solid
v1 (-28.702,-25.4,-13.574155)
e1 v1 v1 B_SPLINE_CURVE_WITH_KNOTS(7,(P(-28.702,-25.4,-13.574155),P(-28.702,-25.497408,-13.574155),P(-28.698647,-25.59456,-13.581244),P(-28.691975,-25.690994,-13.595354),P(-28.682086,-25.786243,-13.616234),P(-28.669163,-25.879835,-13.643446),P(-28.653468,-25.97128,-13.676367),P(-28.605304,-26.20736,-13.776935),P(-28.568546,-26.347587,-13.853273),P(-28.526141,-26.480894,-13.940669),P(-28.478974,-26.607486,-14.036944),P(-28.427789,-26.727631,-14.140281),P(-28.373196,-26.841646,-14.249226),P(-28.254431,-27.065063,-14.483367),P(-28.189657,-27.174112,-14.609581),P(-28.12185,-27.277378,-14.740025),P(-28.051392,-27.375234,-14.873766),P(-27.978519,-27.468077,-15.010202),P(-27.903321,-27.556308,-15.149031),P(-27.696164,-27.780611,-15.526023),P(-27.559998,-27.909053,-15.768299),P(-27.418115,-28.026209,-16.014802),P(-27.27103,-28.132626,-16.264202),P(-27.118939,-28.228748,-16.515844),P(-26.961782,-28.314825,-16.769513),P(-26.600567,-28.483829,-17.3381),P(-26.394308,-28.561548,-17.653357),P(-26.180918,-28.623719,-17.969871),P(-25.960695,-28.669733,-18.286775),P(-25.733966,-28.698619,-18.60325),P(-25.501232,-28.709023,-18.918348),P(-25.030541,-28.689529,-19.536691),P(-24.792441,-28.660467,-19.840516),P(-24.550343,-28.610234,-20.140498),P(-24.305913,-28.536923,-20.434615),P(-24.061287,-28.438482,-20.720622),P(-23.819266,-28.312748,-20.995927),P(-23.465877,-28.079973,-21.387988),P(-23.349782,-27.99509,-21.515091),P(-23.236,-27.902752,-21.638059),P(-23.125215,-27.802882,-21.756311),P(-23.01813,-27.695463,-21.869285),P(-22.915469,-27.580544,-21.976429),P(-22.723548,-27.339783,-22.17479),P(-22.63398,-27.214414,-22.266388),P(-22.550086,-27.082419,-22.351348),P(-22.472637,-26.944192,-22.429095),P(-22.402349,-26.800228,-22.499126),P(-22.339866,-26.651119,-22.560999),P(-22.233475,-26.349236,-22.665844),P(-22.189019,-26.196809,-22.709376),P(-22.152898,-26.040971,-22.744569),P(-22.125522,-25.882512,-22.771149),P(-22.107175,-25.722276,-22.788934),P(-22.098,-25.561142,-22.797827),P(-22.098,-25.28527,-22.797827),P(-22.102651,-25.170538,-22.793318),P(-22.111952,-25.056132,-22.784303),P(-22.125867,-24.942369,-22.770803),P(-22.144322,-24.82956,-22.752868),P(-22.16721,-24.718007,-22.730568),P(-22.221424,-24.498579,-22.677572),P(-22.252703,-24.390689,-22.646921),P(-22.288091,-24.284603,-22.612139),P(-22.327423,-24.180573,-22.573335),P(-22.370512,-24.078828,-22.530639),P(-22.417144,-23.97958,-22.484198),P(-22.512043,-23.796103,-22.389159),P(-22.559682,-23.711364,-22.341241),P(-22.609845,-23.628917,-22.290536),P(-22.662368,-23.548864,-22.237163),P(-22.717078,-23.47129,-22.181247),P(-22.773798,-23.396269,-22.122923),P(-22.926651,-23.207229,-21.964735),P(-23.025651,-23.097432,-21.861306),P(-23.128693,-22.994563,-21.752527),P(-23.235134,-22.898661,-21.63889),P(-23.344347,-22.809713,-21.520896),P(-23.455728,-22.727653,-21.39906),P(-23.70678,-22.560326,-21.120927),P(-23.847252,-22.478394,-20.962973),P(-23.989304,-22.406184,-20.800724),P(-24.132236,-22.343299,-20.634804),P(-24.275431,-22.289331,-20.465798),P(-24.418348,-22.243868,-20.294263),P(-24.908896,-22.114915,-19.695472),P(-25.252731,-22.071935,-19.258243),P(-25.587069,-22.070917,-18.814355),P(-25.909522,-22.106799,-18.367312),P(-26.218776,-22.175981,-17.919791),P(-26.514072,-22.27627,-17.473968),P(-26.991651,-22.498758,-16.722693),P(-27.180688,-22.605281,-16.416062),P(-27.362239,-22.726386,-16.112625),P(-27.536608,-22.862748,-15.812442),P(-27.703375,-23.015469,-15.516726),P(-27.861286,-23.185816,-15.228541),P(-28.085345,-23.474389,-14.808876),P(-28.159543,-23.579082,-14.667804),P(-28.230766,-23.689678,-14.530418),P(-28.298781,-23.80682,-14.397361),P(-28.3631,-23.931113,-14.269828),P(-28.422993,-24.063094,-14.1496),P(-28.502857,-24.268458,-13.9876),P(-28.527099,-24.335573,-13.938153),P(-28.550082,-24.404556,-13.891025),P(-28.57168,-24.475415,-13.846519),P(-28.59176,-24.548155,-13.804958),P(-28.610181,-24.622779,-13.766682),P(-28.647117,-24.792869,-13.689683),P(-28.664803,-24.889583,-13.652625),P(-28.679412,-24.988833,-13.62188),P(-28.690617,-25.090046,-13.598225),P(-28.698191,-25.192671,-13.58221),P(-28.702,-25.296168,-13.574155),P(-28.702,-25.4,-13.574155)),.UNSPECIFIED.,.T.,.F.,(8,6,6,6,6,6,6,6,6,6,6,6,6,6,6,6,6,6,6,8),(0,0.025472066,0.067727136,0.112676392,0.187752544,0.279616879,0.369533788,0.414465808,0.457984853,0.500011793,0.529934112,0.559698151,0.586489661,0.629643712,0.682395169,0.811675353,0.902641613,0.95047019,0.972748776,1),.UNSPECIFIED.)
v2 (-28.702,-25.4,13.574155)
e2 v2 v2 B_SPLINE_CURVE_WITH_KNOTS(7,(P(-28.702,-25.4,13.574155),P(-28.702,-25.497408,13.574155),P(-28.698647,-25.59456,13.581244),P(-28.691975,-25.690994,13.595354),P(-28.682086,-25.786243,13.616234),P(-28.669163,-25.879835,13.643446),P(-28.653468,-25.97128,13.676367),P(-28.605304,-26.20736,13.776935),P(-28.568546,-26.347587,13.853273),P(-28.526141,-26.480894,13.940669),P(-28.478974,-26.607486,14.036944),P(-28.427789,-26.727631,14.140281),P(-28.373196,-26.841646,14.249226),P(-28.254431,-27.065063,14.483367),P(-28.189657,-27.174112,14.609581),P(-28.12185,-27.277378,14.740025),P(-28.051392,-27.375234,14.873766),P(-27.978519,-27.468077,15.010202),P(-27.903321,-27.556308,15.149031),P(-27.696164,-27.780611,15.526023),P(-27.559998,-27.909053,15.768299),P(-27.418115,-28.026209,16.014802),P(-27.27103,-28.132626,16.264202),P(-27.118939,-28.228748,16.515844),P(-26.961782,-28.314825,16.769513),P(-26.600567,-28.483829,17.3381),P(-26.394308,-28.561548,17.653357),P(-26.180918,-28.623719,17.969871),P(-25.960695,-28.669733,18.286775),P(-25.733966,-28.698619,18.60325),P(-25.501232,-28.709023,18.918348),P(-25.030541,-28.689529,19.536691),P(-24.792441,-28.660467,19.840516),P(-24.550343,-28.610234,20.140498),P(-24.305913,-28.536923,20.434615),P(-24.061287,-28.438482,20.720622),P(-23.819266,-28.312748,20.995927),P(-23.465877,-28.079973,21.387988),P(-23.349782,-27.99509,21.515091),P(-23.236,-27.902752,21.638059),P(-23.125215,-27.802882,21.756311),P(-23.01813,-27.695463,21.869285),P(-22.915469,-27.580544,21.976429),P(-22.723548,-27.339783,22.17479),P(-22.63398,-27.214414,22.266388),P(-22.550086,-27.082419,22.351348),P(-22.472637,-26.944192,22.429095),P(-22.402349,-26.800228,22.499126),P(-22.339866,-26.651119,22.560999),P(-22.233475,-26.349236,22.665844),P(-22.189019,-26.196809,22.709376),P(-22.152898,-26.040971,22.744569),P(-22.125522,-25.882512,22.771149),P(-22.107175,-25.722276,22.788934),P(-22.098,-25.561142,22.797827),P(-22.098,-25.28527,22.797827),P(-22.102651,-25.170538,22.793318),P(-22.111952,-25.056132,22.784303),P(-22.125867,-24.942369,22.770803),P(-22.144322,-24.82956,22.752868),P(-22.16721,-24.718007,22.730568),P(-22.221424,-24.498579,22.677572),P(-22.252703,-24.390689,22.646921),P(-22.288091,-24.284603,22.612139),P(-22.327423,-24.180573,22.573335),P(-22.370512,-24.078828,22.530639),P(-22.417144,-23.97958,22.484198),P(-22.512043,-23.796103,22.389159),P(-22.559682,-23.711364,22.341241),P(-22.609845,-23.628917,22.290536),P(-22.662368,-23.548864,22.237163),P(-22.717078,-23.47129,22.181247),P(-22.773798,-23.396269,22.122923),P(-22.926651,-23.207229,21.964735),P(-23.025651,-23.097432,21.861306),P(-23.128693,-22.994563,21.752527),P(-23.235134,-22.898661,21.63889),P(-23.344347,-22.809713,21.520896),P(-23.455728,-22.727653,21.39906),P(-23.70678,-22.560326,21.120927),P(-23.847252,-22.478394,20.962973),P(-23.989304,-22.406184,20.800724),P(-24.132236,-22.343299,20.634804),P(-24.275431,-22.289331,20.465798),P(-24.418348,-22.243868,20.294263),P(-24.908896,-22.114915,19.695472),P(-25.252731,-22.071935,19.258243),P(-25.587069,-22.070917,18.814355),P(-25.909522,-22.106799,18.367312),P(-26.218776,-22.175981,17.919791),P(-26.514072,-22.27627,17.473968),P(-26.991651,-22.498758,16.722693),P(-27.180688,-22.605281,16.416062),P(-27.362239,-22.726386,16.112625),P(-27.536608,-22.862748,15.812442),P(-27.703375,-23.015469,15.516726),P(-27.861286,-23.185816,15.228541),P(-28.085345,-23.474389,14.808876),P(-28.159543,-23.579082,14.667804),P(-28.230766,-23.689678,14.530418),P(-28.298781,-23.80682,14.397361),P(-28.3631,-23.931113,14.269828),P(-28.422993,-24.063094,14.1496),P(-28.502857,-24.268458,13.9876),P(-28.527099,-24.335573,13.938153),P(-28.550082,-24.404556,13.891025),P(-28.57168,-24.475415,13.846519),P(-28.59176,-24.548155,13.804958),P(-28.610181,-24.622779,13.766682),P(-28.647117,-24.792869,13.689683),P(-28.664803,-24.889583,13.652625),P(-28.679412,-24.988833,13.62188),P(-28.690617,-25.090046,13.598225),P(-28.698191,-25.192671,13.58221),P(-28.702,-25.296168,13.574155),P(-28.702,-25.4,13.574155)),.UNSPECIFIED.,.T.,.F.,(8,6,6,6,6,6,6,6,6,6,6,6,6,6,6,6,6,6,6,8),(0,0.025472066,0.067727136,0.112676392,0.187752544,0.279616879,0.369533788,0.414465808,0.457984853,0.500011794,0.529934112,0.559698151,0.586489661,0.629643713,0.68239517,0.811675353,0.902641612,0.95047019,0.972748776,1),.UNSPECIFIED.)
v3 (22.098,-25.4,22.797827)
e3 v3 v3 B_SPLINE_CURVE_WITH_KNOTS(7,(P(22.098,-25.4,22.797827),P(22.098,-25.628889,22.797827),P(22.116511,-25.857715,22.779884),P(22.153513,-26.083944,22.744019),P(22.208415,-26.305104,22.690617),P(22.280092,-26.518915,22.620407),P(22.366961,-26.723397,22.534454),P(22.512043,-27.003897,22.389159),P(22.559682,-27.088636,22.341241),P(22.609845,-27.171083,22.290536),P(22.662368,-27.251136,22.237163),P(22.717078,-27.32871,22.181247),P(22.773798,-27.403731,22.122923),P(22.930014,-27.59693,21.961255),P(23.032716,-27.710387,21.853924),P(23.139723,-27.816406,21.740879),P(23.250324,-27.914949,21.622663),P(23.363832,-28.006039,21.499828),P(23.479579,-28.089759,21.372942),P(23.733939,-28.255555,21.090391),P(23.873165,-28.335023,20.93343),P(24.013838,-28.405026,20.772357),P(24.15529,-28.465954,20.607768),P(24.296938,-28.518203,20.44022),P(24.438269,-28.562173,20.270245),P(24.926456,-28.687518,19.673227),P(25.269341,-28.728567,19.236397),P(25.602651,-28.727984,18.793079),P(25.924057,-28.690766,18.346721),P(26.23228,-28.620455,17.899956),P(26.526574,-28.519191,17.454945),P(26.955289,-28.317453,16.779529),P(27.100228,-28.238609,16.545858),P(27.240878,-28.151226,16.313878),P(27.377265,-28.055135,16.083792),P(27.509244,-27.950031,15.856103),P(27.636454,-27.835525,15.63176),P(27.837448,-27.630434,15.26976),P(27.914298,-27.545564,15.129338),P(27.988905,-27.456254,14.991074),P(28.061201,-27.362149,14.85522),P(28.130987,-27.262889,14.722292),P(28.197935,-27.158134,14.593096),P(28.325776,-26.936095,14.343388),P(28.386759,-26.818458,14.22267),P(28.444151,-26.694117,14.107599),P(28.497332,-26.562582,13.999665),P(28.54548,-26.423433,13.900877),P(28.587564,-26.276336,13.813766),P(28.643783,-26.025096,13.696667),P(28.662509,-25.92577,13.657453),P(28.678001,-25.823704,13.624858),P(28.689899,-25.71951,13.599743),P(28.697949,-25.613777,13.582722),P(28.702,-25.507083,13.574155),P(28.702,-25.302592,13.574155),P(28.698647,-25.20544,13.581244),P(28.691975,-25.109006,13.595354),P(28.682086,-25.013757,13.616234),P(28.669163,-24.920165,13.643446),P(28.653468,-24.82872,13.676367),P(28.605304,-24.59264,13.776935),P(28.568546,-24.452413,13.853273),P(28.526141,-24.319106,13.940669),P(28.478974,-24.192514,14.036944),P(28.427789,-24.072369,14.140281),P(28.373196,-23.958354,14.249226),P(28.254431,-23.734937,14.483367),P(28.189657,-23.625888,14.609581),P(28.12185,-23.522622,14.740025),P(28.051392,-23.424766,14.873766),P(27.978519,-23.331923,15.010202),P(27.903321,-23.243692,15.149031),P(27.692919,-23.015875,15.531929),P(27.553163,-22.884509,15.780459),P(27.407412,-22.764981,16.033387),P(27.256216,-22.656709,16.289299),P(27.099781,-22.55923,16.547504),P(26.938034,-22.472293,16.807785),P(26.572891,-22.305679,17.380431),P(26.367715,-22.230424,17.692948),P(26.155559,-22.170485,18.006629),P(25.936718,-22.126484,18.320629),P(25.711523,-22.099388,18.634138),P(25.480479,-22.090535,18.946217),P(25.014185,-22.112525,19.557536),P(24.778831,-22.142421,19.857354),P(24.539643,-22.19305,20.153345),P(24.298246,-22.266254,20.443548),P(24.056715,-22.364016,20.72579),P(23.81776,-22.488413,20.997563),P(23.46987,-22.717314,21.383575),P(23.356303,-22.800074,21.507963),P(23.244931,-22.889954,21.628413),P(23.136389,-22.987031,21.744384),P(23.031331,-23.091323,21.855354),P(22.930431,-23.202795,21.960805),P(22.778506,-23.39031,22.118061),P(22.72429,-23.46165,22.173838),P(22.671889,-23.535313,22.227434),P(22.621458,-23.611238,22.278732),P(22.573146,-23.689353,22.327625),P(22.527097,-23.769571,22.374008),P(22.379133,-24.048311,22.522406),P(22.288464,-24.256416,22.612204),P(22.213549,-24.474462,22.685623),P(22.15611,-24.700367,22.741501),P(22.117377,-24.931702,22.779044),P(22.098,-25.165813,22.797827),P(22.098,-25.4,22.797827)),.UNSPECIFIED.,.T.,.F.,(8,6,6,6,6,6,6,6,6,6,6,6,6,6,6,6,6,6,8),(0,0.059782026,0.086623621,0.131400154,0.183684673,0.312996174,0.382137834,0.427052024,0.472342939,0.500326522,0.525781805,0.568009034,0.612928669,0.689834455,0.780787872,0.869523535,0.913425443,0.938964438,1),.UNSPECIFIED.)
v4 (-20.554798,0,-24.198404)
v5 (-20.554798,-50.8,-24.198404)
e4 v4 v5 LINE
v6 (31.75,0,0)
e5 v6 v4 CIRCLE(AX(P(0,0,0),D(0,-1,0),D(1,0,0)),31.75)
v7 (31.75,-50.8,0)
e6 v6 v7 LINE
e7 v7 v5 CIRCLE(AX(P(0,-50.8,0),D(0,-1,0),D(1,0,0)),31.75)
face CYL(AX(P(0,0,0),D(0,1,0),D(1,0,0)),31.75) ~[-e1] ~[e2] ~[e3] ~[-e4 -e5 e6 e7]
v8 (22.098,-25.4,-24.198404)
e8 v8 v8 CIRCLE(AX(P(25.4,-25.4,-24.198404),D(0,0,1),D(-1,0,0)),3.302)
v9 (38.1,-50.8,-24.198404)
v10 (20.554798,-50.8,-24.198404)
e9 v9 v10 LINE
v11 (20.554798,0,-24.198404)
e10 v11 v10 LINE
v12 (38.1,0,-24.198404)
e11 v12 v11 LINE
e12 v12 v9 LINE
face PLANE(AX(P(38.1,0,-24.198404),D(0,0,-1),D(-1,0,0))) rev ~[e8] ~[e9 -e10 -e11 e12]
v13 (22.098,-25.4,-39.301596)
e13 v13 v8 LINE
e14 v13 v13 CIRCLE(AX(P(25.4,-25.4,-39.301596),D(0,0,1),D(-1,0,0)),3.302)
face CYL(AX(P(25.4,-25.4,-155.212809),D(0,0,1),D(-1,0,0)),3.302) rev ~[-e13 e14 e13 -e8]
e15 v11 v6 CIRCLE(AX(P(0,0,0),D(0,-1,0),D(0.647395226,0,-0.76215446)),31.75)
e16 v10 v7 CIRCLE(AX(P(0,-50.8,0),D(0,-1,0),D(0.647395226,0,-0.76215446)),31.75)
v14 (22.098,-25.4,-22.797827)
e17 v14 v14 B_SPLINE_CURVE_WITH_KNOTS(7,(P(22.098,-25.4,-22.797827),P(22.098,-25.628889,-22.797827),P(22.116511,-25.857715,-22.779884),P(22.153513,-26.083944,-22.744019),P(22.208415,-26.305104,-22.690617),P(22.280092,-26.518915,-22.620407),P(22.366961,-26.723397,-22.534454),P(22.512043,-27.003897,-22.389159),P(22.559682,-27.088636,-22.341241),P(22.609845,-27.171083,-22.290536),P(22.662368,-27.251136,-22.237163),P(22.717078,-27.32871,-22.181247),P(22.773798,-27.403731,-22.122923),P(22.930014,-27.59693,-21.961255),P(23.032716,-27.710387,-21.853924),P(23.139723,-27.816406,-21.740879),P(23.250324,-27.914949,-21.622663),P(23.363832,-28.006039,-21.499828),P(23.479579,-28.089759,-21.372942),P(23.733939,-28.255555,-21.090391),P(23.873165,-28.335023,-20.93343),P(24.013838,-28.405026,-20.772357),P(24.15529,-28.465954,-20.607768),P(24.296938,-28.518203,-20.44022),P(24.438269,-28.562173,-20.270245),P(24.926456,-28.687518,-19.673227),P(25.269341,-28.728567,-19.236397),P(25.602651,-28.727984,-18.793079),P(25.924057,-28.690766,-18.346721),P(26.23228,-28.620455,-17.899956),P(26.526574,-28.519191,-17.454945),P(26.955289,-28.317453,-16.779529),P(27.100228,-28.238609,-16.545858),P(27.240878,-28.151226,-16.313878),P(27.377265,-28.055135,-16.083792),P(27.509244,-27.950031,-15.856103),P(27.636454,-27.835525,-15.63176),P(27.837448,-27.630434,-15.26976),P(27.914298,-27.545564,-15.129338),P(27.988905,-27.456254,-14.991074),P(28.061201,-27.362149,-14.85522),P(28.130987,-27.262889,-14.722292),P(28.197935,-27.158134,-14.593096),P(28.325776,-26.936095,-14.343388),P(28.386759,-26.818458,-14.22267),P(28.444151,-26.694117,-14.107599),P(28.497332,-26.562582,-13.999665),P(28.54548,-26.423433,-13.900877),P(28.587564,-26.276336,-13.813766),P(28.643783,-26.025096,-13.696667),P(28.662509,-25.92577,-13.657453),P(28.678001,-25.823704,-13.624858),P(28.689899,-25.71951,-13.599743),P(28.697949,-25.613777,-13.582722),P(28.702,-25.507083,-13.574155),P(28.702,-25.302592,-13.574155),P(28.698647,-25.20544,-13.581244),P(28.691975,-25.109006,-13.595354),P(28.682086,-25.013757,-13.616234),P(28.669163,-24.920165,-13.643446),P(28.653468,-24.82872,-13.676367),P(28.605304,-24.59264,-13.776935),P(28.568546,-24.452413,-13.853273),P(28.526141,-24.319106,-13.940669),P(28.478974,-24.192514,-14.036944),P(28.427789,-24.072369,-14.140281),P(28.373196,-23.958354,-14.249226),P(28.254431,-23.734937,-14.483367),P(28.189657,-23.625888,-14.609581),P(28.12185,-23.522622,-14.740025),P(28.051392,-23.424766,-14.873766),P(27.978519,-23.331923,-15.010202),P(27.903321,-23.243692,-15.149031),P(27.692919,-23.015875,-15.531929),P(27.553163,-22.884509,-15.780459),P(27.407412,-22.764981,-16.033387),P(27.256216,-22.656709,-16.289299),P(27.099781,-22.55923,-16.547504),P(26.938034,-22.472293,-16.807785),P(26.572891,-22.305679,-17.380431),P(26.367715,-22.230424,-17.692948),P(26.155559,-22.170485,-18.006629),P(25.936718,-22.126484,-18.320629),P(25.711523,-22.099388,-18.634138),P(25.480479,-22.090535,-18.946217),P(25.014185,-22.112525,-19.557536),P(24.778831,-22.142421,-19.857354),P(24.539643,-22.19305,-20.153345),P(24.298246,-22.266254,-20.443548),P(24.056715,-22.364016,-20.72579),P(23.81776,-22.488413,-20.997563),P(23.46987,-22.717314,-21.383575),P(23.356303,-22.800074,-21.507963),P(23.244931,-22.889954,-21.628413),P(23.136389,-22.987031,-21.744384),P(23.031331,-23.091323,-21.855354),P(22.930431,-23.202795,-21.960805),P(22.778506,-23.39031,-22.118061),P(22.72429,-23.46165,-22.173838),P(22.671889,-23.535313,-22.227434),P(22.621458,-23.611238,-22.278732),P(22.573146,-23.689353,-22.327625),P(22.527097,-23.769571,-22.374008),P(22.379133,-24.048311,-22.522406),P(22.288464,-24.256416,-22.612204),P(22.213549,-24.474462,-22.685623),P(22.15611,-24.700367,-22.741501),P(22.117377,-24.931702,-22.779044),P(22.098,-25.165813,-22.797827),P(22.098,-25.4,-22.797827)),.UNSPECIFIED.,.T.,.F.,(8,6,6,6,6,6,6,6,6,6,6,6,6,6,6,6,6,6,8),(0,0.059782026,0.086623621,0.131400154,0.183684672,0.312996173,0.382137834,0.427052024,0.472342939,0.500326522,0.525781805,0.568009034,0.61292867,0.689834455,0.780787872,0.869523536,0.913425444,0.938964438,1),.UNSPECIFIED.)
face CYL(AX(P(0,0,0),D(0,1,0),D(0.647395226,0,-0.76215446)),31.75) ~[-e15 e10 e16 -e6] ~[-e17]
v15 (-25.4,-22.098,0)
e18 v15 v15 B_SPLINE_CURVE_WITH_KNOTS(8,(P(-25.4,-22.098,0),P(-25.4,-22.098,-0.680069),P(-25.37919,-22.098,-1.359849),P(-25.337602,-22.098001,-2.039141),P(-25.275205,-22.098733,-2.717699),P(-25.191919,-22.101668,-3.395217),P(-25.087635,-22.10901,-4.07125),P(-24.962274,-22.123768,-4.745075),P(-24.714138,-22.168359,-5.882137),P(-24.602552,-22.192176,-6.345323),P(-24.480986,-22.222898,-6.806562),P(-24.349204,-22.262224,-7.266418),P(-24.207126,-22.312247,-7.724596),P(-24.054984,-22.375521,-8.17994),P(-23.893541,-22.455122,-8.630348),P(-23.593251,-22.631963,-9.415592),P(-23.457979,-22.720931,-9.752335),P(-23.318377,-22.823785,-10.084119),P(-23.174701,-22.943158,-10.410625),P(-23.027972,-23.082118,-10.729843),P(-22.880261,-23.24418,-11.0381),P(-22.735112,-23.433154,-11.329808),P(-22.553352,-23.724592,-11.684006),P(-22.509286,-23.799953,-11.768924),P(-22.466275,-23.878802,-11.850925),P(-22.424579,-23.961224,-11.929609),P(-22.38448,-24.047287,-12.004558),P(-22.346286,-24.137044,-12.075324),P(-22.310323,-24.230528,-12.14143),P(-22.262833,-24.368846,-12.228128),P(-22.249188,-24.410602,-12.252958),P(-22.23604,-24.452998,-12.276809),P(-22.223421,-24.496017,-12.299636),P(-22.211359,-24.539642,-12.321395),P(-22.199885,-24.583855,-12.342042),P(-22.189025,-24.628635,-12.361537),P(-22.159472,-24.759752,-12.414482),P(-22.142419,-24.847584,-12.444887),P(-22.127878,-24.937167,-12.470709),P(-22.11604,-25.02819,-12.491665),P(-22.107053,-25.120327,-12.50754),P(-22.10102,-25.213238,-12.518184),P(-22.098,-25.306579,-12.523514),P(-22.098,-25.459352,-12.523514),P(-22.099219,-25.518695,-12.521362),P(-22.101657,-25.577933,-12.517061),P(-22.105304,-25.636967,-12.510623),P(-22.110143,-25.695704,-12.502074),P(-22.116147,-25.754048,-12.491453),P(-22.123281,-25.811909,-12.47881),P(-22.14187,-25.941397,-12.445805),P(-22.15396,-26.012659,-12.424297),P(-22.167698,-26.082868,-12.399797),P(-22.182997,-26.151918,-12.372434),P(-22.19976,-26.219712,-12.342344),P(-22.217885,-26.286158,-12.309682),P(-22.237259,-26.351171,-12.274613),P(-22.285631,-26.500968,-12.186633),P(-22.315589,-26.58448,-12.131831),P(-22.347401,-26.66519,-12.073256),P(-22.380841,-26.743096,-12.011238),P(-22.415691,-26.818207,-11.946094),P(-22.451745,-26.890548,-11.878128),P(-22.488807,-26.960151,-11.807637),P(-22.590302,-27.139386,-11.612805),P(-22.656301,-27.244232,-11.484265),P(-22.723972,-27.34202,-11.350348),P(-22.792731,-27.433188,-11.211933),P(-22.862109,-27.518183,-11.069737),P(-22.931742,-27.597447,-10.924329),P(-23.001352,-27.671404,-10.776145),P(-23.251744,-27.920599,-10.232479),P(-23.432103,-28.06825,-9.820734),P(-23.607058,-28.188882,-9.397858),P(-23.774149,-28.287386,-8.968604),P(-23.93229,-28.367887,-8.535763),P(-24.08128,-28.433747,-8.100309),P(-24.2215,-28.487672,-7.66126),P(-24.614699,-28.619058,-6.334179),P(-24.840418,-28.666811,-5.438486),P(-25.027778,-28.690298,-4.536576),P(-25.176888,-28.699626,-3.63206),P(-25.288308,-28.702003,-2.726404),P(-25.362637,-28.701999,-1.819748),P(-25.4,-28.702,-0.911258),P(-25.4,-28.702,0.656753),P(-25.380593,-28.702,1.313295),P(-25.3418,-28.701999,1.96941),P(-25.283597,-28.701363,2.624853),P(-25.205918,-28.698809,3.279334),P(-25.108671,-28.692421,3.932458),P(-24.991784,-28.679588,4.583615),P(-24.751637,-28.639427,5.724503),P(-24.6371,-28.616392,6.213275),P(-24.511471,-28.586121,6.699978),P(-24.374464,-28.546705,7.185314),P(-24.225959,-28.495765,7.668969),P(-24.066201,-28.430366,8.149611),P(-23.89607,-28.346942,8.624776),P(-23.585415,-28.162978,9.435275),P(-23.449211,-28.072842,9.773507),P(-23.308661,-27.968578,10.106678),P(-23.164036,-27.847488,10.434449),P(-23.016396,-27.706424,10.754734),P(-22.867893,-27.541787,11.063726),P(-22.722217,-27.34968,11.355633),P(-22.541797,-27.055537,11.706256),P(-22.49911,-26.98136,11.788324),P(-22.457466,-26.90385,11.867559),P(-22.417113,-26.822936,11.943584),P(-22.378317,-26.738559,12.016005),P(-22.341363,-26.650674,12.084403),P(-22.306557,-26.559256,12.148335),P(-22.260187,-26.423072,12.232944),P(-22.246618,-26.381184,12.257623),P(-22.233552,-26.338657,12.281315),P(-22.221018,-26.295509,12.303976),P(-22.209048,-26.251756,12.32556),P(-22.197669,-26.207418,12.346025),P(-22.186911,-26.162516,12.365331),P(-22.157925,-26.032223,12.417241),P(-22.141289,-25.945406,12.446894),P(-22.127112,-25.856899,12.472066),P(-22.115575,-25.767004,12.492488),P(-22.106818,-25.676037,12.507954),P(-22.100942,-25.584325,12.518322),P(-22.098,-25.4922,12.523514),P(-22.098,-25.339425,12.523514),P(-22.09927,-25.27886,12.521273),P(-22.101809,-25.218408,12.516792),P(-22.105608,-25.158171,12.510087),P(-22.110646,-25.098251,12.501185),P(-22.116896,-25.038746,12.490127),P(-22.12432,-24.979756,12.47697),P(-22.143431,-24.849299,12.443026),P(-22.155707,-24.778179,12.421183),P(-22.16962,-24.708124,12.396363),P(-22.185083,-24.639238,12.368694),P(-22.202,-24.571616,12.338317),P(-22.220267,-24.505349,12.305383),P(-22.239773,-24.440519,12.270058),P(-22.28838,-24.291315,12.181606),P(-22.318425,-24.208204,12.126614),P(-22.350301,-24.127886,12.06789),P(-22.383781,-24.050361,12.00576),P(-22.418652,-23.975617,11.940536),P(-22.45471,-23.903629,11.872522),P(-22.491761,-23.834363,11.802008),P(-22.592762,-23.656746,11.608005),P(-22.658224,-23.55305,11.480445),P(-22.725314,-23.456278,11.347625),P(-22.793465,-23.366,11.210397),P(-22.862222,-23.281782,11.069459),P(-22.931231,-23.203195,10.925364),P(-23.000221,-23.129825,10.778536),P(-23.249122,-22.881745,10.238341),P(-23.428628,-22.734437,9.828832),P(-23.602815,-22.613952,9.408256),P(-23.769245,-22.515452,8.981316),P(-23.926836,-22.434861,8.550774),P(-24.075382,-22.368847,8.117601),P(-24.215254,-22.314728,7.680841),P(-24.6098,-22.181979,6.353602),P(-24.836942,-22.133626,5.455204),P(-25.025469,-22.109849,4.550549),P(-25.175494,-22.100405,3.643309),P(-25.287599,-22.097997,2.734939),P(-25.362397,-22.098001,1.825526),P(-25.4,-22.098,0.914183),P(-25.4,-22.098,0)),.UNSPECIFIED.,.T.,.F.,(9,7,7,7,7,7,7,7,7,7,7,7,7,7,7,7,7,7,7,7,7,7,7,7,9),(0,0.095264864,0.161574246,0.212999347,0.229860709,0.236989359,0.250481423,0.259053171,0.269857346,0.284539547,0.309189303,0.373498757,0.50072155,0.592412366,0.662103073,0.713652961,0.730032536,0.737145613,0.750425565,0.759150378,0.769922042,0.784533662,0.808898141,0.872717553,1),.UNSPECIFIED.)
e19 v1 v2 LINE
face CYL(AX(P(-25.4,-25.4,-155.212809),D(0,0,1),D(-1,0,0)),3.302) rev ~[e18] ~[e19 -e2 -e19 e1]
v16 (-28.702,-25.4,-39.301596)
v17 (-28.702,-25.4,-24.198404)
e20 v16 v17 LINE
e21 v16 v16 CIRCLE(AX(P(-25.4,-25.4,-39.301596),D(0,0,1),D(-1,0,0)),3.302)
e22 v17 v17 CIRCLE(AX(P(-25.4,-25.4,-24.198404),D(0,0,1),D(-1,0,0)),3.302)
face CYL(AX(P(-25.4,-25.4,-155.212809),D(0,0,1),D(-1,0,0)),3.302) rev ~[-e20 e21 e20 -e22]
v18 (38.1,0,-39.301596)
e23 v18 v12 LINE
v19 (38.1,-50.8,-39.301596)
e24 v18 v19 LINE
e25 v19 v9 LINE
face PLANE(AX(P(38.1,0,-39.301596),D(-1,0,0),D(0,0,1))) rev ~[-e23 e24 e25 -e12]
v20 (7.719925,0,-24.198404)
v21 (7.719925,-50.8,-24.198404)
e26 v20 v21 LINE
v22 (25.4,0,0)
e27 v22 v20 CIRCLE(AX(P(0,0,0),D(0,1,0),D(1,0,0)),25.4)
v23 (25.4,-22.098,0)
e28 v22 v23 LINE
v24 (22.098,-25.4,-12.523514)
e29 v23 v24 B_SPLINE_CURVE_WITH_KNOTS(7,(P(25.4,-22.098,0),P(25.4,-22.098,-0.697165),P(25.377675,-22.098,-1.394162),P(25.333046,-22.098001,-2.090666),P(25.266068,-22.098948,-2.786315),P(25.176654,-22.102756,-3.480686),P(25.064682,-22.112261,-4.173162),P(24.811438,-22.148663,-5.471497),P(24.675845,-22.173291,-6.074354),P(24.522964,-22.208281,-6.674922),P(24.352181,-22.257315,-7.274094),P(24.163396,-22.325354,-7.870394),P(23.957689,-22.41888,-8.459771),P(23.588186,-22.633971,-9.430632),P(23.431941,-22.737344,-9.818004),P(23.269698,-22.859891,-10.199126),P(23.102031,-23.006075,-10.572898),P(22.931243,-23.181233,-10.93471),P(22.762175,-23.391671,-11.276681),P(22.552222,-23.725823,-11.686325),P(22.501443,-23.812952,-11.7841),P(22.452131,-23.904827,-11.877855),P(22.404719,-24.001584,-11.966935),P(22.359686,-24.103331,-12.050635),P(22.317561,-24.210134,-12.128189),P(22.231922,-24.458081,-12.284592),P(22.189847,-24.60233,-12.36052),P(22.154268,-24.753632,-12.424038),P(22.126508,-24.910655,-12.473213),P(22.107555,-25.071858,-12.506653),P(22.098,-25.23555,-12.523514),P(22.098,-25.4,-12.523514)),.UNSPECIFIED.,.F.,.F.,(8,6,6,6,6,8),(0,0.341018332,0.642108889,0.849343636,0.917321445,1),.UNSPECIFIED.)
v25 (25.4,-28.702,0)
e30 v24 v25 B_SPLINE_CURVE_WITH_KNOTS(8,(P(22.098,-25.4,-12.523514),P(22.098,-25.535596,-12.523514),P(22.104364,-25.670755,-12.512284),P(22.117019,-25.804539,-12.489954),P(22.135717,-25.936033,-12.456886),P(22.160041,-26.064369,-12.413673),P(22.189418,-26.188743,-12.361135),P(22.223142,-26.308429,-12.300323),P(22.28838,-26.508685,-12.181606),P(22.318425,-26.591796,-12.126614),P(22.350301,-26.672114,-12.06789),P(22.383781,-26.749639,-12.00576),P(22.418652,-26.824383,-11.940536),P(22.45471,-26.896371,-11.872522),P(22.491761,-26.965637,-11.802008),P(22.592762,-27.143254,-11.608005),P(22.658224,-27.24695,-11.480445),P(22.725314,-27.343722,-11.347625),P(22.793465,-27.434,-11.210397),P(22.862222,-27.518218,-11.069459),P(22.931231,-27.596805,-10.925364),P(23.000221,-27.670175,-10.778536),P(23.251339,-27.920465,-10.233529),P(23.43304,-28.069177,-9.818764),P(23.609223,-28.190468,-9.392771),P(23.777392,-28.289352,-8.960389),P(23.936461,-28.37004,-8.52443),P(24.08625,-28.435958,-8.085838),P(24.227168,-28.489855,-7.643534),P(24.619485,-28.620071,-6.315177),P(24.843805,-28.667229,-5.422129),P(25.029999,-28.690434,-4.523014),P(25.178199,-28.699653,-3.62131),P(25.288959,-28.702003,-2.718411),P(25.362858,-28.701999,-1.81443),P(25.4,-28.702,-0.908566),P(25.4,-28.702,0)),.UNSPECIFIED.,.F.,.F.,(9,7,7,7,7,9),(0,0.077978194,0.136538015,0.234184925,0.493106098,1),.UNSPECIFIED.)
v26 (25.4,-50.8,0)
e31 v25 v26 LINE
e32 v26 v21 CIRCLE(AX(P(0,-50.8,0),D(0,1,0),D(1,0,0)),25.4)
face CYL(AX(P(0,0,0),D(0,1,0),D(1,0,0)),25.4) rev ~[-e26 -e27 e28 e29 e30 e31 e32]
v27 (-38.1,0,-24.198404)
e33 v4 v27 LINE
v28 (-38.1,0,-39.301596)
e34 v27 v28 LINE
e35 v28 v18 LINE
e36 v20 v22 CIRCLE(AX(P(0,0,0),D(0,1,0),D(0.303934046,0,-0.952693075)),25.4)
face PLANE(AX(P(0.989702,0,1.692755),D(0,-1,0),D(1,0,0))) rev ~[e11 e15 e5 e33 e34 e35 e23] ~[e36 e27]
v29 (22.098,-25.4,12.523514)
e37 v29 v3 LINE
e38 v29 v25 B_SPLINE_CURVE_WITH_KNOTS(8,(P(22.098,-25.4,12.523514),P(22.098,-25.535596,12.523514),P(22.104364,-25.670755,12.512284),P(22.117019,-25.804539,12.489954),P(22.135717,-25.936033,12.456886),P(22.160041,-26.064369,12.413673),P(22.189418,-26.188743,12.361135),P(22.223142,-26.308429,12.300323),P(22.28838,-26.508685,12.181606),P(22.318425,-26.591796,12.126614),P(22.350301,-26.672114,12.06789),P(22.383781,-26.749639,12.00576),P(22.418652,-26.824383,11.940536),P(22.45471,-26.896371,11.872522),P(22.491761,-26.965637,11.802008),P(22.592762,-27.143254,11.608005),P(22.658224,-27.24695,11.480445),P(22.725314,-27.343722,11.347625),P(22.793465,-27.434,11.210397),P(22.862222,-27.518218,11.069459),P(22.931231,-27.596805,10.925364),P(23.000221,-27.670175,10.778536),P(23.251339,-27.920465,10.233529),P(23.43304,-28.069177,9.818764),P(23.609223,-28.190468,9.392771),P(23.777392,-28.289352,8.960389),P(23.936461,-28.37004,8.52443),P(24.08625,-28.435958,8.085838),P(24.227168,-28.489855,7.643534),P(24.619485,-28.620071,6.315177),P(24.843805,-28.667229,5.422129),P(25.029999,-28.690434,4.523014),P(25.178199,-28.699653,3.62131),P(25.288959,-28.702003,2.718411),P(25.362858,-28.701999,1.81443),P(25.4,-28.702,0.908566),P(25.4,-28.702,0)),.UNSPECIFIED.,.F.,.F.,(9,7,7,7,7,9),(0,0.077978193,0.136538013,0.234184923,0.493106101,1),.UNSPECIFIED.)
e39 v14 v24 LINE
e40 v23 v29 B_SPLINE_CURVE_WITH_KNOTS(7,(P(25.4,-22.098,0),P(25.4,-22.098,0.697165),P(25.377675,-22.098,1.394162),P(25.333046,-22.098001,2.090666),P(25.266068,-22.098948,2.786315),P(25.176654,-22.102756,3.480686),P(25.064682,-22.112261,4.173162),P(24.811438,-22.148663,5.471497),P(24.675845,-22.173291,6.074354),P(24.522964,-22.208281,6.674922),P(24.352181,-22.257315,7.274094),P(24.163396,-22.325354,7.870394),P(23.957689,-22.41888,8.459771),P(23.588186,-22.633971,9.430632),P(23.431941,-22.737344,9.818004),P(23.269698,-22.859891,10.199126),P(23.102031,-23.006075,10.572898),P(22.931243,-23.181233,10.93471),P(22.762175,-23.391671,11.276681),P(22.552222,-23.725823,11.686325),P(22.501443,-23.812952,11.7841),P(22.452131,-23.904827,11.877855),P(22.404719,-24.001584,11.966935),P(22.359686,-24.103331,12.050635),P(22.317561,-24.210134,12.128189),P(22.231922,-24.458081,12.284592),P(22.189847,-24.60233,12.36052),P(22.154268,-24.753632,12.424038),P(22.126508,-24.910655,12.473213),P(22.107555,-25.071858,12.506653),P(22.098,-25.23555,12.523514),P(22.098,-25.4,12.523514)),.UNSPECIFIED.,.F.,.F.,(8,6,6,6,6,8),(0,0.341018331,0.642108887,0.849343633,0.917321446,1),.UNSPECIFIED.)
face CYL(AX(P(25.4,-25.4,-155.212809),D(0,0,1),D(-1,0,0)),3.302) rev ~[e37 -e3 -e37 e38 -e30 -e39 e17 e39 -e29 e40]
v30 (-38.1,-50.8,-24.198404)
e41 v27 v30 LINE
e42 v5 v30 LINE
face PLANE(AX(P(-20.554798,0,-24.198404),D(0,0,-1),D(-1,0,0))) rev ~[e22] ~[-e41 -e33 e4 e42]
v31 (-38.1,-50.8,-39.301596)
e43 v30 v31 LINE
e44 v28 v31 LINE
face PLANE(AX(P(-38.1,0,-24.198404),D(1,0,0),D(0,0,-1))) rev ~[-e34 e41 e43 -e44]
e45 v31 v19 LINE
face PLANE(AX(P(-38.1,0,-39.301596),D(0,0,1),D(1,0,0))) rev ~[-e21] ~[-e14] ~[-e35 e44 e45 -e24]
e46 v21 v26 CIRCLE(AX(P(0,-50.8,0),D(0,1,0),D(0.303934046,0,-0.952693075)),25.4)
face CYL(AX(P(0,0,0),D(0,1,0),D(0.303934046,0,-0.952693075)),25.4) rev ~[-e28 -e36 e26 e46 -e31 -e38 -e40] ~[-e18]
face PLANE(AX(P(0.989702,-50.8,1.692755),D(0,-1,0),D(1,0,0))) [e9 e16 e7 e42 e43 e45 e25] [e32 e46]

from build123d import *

# Parameters (mm, degrees)
F1_DEPTH = 50.8
F3_D     = 6.604


with BuildPart() as f1:
    # F0 (on Front) → F1 (new body)
    with BuildSketch(Plane.XZ):
        with BuildLine():
            ThreePointArc((-7.7199247783, -24.1984041089), (-14.9845572279, 20.5090966326), (25.4, 0))
            ThreePointArc((25.4, 0), (20.5090966326, -14.9845572279), (7.7199247783, -24.1984041089))
            Line((7.7199247783, -24.1984041089), (20.5547984321, -24.1984041089))
            ThreePointArc((20.5547984321, -24.1984041089), (28.8155977746, -13.3313099465), (31.75, 0))
            ThreePointArc((31.75, 0), (-13.3313099465, 28.8155977746), (-20.5547984321, -24.1984041089))
            Line((-20.5547984321, -24.1984041089), (-7.7199247783, -24.1984041089))
        make_face()
        with BuildLine():
            ThreePointArc((7.7199247783, -24.1984041089), (0, -25.4), (-7.7199247783, -24.1984041089))
            Line((-7.7199247783, -24.1984041089), (-20.5547984321, -24.1984041089))
            ThreePointArc((-20.5547984321, -24.1984041089), (0, -31.75), (20.5547984321, -24.1984041089))
            Line((20.5547984321, -24.1984041089), (7.7199247783, -24.1984041089))
        make_face()
        with BuildLine():
            ThreePointArc((20.5547984321, -24.1984041089), (0, -31.75), (-20.5547984321, -24.1984041089))
            Line((-20.5547984321, -24.1984041089), (-38.1, -24.1984041089))
            Line((-38.1, -24.1984041089), (-38.1, -39.3015958911))
            Line((-38.1, -39.3015958911), (38.1, -39.3015958911))
            Line((38.1, -39.3015958911), (38.1, -24.1984041089))
            Line((38.1, -24.1984041089), (20.5547984321, -24.1984041089))
        make_face()
    extrude(amount=F1_DEPTH)

    # F3 (through all)
    with Locations(Plane(origin=(0, 0, -39.3015958911), x_dir=(1, 0, 0), z_dir=(0, 0, -1))):
        with Locations((-25.4, 25.4), (25.4, 25.4)):
            Hole(F3_D / 2)


solid = f1.part
